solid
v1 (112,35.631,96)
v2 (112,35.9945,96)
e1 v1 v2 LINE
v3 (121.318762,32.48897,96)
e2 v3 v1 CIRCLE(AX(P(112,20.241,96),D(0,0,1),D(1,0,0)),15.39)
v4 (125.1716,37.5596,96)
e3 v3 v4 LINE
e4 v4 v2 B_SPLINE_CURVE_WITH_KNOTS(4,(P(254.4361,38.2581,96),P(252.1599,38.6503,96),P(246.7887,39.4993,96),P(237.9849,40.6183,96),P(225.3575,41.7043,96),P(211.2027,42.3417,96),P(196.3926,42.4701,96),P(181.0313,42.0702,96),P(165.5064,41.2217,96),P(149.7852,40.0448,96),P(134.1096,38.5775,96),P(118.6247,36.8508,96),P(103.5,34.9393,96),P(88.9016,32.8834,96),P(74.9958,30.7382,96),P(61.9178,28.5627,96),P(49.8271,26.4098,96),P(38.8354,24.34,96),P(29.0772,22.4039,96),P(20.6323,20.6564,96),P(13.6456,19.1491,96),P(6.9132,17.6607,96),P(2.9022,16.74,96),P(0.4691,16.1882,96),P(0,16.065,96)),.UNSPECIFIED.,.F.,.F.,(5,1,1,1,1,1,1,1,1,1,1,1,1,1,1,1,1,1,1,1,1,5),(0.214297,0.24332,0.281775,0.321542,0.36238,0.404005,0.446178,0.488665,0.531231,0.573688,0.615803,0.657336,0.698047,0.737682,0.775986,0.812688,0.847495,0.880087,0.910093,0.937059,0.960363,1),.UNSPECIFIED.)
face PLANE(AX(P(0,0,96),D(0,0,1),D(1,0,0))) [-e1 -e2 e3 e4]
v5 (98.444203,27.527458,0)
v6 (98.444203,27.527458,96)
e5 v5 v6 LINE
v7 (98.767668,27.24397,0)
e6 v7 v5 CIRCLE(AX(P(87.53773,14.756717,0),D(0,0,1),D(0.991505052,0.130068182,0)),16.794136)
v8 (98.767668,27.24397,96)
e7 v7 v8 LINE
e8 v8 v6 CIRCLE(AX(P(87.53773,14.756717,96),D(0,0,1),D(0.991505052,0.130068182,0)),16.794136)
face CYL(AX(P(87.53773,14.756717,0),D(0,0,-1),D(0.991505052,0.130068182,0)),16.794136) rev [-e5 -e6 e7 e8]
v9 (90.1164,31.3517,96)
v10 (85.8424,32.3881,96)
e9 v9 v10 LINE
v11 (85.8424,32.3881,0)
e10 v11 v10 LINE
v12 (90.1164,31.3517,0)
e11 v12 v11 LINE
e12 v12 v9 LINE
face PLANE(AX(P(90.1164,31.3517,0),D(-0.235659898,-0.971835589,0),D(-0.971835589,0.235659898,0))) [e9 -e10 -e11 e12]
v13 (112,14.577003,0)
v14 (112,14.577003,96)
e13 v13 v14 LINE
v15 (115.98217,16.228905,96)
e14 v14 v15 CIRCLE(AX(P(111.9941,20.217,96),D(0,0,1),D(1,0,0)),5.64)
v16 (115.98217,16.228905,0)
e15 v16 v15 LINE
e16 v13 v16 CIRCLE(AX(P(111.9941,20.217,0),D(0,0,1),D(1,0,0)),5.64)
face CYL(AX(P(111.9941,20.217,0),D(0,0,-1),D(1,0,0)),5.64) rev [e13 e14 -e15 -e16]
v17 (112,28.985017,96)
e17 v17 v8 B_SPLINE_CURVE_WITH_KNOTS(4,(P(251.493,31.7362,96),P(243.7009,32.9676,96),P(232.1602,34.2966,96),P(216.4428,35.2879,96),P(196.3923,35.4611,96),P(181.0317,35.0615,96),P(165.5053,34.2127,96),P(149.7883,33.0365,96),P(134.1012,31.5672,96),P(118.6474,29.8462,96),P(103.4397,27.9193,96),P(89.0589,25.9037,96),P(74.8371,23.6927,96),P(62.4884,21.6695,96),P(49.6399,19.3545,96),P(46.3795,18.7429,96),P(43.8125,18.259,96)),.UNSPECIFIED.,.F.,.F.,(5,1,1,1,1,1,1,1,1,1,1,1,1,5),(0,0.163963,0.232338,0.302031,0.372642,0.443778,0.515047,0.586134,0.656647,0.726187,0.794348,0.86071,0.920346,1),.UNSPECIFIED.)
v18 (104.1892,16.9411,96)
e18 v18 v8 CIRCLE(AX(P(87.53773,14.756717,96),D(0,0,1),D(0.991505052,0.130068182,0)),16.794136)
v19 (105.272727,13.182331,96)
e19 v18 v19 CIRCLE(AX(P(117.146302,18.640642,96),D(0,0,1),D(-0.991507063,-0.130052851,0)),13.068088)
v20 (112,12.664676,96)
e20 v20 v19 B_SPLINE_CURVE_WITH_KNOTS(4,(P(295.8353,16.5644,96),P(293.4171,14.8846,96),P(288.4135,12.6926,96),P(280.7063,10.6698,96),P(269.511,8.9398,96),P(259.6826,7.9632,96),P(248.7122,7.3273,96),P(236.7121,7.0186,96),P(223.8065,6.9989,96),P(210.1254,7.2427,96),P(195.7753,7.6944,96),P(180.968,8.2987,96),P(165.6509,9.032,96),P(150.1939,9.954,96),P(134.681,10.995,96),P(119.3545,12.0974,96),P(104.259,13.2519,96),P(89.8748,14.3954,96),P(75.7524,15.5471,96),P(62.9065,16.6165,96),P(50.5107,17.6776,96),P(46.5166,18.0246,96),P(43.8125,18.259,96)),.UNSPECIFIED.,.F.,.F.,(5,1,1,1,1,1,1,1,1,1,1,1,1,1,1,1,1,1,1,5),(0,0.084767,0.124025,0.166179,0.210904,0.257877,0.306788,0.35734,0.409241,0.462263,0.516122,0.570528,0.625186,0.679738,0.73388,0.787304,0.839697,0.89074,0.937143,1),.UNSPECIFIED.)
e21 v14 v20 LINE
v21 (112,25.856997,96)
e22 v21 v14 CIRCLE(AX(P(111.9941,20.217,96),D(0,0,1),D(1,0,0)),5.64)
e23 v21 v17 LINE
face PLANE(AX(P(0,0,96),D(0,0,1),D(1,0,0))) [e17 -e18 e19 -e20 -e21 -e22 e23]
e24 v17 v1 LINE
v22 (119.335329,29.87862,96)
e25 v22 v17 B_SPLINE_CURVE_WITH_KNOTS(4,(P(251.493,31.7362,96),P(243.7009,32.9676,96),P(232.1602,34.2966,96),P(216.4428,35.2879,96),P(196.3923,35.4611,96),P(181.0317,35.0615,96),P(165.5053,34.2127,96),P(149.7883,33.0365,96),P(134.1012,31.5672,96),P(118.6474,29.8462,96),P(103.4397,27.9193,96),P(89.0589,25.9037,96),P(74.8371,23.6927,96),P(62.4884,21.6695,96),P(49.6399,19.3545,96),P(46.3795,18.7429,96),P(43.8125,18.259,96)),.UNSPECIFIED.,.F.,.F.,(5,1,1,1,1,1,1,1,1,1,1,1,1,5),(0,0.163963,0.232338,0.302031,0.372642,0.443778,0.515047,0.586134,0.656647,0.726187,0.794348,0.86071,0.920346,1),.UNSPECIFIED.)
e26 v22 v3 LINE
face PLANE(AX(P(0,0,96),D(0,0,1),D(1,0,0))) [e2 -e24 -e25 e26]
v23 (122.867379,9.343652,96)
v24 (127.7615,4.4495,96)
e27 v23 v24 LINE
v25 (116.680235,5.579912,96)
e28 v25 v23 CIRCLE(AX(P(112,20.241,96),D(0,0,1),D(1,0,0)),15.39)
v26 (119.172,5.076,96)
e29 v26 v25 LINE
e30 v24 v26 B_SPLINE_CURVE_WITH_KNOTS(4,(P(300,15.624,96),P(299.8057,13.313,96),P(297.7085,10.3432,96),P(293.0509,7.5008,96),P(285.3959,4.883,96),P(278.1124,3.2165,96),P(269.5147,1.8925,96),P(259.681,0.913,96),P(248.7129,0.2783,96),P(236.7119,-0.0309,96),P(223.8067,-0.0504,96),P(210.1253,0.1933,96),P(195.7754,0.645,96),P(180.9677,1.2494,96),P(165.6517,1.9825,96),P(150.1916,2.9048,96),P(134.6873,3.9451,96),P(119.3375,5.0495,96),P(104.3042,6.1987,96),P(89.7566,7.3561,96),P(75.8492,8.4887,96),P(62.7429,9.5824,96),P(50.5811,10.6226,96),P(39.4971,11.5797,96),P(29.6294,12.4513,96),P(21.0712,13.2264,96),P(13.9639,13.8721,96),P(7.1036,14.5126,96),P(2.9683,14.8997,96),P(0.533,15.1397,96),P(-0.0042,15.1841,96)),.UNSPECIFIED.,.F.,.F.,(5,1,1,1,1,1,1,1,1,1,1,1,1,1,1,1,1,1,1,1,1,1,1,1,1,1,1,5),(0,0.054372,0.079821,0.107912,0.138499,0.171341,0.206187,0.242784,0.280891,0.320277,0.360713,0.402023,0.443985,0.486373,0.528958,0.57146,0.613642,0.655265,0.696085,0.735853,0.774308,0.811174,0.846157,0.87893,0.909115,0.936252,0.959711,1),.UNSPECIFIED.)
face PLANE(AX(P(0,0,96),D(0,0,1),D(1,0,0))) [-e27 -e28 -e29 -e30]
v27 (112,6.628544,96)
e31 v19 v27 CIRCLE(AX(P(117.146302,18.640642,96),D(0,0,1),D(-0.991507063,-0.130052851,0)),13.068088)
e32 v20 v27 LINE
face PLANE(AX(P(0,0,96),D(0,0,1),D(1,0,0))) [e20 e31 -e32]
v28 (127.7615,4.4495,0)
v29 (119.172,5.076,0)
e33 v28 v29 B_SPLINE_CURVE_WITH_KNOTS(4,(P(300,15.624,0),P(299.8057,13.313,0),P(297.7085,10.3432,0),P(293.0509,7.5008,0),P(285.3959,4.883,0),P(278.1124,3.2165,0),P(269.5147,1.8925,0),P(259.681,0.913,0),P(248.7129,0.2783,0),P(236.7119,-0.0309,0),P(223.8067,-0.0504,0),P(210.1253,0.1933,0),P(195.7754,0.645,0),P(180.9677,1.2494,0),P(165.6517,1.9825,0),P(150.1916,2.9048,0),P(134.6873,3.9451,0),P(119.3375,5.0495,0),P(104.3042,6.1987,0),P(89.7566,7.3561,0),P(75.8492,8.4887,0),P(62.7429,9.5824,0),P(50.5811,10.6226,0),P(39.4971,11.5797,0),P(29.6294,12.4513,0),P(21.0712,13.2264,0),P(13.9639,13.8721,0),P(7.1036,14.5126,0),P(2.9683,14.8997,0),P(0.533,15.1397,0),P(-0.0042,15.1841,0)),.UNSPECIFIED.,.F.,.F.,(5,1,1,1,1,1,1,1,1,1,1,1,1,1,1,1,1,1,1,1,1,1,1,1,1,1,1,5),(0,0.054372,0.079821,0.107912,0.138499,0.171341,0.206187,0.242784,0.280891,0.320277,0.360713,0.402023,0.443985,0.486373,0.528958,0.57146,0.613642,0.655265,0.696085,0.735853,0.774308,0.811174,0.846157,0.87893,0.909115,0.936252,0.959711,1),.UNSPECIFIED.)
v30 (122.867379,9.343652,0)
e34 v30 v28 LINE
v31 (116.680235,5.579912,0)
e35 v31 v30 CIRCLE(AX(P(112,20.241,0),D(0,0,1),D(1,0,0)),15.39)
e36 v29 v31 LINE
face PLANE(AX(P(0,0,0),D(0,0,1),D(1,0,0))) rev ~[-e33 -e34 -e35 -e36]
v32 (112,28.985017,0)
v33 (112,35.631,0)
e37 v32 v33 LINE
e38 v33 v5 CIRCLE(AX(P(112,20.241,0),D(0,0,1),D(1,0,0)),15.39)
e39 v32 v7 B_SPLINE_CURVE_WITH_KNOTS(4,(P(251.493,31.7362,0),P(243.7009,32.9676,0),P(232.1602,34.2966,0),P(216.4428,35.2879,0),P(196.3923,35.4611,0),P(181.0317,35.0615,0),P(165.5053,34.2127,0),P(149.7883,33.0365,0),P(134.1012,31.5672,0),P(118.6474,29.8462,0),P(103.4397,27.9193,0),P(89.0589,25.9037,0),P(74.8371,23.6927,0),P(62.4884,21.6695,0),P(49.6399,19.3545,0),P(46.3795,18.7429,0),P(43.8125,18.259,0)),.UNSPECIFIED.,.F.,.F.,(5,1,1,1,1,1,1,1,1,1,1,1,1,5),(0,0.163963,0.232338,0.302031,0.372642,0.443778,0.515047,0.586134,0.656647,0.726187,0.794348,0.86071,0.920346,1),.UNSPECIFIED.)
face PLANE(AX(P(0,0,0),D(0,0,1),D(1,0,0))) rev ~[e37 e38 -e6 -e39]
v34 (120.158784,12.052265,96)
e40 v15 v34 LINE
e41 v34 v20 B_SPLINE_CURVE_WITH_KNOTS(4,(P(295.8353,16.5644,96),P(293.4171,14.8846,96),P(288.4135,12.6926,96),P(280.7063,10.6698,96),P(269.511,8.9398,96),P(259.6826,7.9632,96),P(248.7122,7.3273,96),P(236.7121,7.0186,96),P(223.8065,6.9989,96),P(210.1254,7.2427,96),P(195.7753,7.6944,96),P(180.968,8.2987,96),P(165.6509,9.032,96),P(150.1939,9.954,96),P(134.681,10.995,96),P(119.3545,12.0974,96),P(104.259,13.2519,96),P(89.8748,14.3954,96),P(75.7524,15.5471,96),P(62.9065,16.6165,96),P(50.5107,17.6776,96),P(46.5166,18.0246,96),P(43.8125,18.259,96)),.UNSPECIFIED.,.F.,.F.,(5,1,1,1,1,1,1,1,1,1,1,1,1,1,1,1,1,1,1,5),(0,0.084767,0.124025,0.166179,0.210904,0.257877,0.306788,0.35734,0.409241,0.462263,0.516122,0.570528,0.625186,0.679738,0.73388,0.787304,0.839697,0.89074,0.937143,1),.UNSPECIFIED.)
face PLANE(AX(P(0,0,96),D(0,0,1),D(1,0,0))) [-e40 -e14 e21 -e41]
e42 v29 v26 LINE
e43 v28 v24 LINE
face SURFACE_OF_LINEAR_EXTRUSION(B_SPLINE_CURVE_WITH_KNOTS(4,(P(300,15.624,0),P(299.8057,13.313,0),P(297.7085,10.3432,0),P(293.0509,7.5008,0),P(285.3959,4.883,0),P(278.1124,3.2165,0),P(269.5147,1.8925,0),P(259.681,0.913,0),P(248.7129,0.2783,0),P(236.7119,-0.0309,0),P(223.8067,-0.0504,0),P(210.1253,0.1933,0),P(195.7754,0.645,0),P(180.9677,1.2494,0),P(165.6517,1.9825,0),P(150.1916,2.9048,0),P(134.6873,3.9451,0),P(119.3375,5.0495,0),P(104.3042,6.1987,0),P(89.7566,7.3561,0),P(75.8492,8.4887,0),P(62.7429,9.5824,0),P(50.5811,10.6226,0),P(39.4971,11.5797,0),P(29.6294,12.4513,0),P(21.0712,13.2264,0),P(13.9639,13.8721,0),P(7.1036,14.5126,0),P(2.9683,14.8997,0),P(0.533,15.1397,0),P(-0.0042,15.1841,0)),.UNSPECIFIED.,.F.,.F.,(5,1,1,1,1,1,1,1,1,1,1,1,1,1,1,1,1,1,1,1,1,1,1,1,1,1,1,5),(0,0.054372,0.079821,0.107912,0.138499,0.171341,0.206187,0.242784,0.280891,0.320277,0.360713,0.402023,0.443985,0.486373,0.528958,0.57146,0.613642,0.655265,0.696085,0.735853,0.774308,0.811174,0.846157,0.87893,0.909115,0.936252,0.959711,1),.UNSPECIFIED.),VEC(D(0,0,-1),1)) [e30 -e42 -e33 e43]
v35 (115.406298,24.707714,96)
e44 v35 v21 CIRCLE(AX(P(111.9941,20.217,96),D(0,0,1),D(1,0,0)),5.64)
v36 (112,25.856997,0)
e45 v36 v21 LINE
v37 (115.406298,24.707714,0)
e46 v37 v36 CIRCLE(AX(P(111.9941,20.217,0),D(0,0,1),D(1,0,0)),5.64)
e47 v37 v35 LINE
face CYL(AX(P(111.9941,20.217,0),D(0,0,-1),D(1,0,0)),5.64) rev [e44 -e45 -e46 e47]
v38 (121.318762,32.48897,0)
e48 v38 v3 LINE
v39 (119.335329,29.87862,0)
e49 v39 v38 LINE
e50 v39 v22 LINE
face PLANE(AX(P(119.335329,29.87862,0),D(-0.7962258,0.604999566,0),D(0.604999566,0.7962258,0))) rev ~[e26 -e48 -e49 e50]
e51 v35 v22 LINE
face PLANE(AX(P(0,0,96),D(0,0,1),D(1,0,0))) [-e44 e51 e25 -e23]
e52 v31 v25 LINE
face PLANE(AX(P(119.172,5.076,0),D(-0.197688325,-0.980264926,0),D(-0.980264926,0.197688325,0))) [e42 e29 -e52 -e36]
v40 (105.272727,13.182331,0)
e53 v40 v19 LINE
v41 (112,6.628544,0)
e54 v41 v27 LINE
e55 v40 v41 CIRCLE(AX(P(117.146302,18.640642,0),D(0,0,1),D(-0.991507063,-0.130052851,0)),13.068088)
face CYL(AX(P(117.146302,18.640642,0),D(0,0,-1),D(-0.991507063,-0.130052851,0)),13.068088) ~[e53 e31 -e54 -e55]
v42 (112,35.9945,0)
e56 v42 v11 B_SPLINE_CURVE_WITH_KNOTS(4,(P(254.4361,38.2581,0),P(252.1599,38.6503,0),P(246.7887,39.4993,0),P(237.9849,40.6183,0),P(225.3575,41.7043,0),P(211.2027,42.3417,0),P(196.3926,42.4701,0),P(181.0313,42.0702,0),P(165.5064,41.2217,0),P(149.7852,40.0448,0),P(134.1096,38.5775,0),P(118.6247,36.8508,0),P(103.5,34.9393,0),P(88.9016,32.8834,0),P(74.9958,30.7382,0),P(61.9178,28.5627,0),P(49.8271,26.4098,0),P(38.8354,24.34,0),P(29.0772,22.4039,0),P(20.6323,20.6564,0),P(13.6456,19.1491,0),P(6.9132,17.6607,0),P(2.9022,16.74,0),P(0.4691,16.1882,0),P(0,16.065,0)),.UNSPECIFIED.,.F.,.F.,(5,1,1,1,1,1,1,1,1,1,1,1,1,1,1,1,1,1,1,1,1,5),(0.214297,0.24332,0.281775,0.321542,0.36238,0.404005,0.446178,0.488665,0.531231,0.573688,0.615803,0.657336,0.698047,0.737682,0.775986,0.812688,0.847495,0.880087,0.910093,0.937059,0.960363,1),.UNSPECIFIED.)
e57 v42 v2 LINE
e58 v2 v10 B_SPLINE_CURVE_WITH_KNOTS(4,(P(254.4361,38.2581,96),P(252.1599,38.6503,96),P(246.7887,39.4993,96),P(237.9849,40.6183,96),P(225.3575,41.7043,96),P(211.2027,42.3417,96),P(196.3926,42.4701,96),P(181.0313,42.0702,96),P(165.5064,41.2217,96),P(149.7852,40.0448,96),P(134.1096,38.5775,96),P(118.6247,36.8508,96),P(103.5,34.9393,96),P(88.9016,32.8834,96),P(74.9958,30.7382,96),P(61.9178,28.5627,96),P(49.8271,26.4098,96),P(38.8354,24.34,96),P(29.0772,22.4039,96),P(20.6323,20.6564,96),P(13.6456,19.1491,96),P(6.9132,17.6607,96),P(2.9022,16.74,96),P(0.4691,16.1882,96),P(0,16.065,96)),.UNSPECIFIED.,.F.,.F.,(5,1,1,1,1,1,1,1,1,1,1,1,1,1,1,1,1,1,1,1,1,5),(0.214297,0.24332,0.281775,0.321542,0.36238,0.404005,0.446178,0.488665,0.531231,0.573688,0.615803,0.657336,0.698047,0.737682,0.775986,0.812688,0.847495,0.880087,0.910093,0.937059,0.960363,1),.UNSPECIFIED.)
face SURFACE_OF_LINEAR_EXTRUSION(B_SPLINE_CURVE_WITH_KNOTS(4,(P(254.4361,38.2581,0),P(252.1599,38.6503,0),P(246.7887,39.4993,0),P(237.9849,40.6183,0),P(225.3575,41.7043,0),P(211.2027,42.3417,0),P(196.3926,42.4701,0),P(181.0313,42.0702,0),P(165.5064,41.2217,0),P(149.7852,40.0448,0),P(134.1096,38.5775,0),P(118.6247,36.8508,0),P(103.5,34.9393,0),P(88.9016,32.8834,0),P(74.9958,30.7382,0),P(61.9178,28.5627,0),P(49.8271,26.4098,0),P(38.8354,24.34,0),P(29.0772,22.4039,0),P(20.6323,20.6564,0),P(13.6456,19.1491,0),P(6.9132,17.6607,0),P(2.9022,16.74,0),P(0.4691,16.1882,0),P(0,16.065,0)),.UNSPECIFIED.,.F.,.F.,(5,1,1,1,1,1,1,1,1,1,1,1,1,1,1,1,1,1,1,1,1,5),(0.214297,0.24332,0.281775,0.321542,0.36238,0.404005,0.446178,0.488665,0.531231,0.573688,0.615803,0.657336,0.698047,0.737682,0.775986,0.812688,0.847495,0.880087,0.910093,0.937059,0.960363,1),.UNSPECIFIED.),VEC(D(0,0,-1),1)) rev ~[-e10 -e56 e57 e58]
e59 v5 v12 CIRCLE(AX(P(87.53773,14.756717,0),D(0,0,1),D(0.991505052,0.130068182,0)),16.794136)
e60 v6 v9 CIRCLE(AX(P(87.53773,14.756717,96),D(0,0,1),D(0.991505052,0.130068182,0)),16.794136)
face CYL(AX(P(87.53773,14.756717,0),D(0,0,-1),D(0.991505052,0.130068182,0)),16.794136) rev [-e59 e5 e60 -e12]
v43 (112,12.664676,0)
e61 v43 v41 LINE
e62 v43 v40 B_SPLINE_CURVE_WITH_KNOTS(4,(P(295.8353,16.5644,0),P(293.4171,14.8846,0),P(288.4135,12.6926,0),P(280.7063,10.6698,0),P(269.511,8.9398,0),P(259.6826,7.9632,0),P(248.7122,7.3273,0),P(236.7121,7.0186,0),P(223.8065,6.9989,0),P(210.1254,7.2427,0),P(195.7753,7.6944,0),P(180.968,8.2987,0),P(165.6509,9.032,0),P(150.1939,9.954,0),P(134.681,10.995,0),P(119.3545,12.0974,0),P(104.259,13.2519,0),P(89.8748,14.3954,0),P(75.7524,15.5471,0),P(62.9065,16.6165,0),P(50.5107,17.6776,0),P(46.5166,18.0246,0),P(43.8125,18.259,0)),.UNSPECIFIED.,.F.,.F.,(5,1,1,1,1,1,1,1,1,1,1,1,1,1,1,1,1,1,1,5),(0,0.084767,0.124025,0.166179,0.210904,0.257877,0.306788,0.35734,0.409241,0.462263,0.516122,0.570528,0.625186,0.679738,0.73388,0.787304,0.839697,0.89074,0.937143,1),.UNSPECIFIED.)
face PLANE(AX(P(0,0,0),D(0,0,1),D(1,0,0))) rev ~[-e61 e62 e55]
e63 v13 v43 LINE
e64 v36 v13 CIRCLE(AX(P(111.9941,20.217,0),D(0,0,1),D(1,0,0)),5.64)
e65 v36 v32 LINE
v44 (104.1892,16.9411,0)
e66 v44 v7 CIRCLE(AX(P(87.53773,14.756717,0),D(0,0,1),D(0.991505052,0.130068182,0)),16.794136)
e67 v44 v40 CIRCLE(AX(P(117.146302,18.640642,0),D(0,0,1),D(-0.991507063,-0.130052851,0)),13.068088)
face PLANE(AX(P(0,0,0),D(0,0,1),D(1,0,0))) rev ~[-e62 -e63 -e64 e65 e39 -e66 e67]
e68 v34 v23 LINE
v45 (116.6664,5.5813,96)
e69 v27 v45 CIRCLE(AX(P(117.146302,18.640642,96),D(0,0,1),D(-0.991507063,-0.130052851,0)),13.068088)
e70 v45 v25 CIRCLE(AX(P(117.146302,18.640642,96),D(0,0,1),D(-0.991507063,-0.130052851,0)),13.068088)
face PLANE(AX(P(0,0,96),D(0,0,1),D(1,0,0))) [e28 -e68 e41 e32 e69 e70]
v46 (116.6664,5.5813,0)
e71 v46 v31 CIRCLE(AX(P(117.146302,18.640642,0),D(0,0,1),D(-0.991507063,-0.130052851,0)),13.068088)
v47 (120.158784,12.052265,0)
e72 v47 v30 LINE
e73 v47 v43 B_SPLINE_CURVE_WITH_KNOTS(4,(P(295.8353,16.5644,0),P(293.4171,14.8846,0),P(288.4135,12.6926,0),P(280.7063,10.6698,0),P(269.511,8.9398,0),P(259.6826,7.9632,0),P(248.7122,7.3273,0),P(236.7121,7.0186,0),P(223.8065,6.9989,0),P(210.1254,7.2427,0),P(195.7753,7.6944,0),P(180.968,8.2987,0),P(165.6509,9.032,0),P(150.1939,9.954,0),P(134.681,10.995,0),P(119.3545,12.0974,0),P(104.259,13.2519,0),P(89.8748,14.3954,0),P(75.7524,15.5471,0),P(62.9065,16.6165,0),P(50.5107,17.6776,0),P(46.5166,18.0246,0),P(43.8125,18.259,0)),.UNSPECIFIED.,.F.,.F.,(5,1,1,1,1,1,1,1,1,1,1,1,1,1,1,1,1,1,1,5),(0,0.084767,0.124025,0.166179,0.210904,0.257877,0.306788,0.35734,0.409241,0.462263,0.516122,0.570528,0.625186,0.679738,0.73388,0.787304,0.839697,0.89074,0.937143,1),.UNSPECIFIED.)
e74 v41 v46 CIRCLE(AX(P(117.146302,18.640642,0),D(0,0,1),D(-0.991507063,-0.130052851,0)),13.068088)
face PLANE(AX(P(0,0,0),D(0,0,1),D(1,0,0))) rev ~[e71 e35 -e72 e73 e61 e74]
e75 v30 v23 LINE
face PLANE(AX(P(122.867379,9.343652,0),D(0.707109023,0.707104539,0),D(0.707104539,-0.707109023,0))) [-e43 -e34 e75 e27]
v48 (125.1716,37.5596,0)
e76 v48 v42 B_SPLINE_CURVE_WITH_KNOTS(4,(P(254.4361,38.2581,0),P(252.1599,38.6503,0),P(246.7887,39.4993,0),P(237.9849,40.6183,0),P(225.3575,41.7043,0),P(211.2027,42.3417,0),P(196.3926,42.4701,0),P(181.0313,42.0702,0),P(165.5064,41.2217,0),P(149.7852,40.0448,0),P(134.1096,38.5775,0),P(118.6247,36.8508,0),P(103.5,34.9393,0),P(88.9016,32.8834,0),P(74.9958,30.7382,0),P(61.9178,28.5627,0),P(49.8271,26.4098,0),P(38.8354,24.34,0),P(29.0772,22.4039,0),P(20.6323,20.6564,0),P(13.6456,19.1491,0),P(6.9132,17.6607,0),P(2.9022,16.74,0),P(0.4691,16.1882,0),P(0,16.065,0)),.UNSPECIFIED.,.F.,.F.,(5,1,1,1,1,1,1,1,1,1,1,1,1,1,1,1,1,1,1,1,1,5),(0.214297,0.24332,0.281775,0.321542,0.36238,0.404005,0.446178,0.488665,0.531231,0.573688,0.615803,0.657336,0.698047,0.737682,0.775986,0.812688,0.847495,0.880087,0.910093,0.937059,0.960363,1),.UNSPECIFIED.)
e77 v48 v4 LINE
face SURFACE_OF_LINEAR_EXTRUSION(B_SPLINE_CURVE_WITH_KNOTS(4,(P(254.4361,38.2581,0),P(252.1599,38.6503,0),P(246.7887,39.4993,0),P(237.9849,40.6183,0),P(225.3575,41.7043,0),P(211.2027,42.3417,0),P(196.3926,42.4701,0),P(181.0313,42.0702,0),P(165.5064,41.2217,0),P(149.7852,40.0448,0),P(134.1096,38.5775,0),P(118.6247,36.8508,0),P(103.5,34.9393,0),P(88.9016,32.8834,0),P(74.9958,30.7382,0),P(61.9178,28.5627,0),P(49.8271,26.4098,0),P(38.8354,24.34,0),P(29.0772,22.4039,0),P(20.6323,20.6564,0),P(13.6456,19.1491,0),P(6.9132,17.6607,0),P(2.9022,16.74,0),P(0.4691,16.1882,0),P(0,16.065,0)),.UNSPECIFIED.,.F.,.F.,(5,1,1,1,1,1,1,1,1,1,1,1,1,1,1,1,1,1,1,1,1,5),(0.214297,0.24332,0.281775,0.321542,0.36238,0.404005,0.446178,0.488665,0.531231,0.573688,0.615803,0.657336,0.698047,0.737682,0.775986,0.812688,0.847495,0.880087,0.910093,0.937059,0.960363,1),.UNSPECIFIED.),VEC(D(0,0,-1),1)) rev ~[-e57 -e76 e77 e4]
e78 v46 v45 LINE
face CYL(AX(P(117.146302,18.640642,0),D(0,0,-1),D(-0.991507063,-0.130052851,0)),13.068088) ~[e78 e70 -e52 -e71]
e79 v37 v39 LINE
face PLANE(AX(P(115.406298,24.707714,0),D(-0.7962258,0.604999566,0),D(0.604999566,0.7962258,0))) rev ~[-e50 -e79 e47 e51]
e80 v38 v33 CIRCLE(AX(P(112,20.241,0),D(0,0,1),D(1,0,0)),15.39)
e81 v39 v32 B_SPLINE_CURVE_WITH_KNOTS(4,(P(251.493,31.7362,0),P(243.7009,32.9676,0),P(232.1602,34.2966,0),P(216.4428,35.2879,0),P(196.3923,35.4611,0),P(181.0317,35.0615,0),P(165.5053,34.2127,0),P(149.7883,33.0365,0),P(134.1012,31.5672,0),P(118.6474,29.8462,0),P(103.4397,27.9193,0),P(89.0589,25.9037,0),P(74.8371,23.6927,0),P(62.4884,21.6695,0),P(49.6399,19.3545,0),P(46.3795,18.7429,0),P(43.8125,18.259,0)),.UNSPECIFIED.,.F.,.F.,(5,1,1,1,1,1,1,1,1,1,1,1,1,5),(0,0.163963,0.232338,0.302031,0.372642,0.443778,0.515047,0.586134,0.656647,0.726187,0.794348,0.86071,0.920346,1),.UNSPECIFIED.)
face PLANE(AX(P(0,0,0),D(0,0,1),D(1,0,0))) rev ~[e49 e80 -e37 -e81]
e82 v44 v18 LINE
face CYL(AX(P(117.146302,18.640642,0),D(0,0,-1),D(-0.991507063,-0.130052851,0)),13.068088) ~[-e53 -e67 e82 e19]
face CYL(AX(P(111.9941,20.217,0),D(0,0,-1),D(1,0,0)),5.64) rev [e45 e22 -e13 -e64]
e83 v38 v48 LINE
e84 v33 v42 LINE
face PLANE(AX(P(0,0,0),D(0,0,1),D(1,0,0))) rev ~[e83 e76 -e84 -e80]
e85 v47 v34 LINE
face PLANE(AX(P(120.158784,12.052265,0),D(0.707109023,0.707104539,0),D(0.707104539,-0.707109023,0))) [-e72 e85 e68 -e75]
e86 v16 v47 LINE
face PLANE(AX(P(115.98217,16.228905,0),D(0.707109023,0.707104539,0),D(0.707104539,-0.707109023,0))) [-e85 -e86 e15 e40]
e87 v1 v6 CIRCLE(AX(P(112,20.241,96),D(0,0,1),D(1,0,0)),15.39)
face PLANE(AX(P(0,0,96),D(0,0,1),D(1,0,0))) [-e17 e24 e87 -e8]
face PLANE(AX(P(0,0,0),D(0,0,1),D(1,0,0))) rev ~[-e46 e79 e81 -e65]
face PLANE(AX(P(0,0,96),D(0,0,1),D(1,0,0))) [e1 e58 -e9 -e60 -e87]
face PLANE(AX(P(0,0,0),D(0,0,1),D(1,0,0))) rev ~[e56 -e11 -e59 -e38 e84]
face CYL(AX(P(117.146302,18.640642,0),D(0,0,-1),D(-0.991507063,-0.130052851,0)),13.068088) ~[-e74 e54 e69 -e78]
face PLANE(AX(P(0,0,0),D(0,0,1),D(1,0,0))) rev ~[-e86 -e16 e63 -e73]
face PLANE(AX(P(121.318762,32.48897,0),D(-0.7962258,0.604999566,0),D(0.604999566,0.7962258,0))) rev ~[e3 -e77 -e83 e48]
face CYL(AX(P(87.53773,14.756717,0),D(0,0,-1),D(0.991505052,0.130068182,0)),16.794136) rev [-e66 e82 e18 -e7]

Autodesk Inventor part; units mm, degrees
ref_plane "YZ Plane" through (0, 0, 0) normal (1, 0, 0) x (0, 1, 0)
ref_plane "XZ Plane" through (0, 0, 0) normal (0, 1, 0) x (-1, 0, 0)
ref_plane "XY Plane" through (0, 0, 0) normal (0, 0, 1) x (1, 0, 0)
sketch "Sketch1" plane through (0, 0, 0) normal (0, 0, 1) x (1, 0, 0)
  spline S0 degree 4 poles (254.4361, 38.2581) (252.1599, 38.6503) (246.7887, 39.4993) (237.9849, 40.6183) (225.3575, 41.7043) (211.2027, 42.3417) (196.3926, 42.4701) (181.0313, 42.0702) (165.5064, 41.2217) (149.7852, 40.0448) (134.1096, 38.5775) (118.6247, 36.8508) (103.5, 34.9393) (88.9016, 32.8834) (74.9958, 30.7382) (61.9178, 28.5627) (49.8271, 26.4098) (38.8354, 24.34) (29.0772, 22.4039) (20.6323, 20.6564) (13.6456, 19.1491) (6.9132, 17.6607) (2.9022, 16.74) (0.4691, 16.1882) (0, 16.065) knots 0.214297 0.214297 0.214297 0.214297 0.214297 0.24332 0.281775 0.321542 0.36238 0.404005 0.446178 0.488665 0.531231 0.573688 0.615803 0.657336 0.698047 0.737682 0.775986 0.812688 0.847495 0.880087 0.910093 0.937059 0.960363 1 1 1 1 1
  spline S1 degree 4 poles (300, 15.624) (299.8057, 13.313) (297.7085, 10.3432) (293.0509, 7.5008) (285.3959, 4.883) (278.1124, 3.2165) (269.5147, 1.8925) (259.681, 0.913) (248.7129, 0.2783) (236.7119, -0.0309) (223.8067, -0.0504) (210.1253, 0.1933) (195.7754, 0.645) (180.9677, 1.2494) (165.6517, 1.9825) (150.1916, 2.9048) (134.6873, 3.9451) (119.3375, 5.0495) (104.3042, 6.1987) (89.7566, 7.3561) (75.8492, 8.4887) (62.7429, 9.5824) (50.5811, 10.6226) (39.4971, 11.5797) (29.6294, 12.4513) (21.0712, 13.2264) (13.9639, 13.8721) (7.1036, 14.5126) (2.9683, 14.8997) (0.533, 15.1397) (-0.0042, 15.1841) knots 0 0 0 0 0 0.054372 0.079821 0.107912 0.138499 0.171341 0.206187 0.242784 0.280891 0.320277 0.360713 0.402023 0.443985 0.486373 0.528958 0.57146 0.613642 0.655265 0.696085 0.735853 0.774308 0.811174 0.846157 0.87893 0.909115 0.936252 0.959711 1 1 1 1 1
  arc A0 (0, 16.065) -> (-0.0042, 15.1841) centre (0.1158, 15.624) ccw
  line L0 (0.1158, 15.624) -> (227.9902, 15.624) construction
  line L1 (300, 15.624) -> (0.1158, 15.624) construction
  line L2 (300, 15.624) -> (200, 15.624) construction
  line L3 (200, 15.624) -> (200, 42.3773) construction
  line L4 (200, 15.624) -> (200, 0.5273)
  line L5 (0, 0) -> (0, 20.241)
  line L6 (0, 20.241) -> (238.581, 20.241) construction
  circle A1 centre (238.581, 20.241) radius 14
  line L7 (238.581, 20.241) -> (208.581, 20.241)
  line L8 (238.581, 25.359) -> (238.581, 20.241)
  line L9 (0, 20.241) -> (112, 20.241) construction
  circle A2 centre (112, 20.241) radius 5.39
  line L10 (0, 15.624) -> (112, 15.624) construction
  line L11 (0, 15.624) -> (112, 15.624) construction
  line L12 (112, 15.624) -> (112, 35.9945)
  line L13 (112, 15.624) -> (112, 5.6153)
  spline S2 degree 4 poles (299.2852, 20.241) (299.2279, 20.1316) (299.168, 20.0232) (299.1056, 19.9158) (299.0406, 19.8092) knots 0.014818 0.014818 0.014818 0.014818 0.014818 0.017711 0.017711 0.017711 0.017711 0.017711
  line L14 (299.2071, 20.0822) -> (298.8742, 19.5363) construction
  arc A3 (298.904, 19.5932) -> (299.1702, 20.0296) centre (292.2911, 23.9254) ccw construction
  line L15 (299.432, 20.5214) -> (299.1384, 19.9606) construction
  arc A4 (299.1639, 20.0188) -> (299.3987, 20.4672) centre (292.801, 23.6361) ccw construction
  spline S3 degree 2 poles (295.8506, 16.56) (295.1573, 16.0692) (294.3933, 15.624) knots 0 0 0 1 1 1
  line L16 (294.5507, 15.7157) -> (294.2359, 15.5323) construction
  arc A5 (294.2672, 15.5511) -> (294.519, 15.6978) centre (283.8844, 33.657) ccw construction
  spline S4 degree 4 poles (296.8569, 15.624) (296.6183, 15.8629) (296.3707, 16.0985) (296.1147, 16.3309) (295.8506, 16.56) knots 0.044099 0.044099 0.044099 0.044099 0.044099 0.050856 0.050856 0.050856 0.050856 0.050856
  spline S5 degree 4 poles (219.5872, 34.9119) (218.6954, 34.952) (214.8585, 35.1063) (210.7072, 35.3295) (192.898, 35.4464) (181.4278, 35.0555) (165.1774, 34.1819) (149.5619, 33.1267) (133.8284, 31.3479) (128.2654, 31.0974) (123.3908, 30.59) knots 0 0 0 0 0 0.139244 0.23322 0.363937 0.509983 0.657115 0.798105 1 1 1 1 1
  line L17 (295.9593, 16.4657) -> (295.7419, 16.6543) construction
  arc A6 (295.9374, 16.4843) -> (295.7635, 16.6352) centre (281.8729, 0.4516) ccw construction
  line L18 (232.7438, 34.3645) -> (201.1936, 35.6815) construction
  arc A7 (229.5868, 34.4549) -> (204.3471, 35.5085) centre (136.3483, -1896.3245) ccw construction
  arc A8 (264.2661, 15.123) -> (264.3608, 15.624) centre (238.581, 20.241) ccw
  circle A9 centre (238.581, 20.241) radius 24
  circle A10 centre (112, 20.241) radius 15.39
  spline S6 degree 4 poles (300, 15.624) (300.2691, 17.9337) (298.7834, 21.2677) (294.6934, 24.9798) (287.5317, 28.9406) (280.4869, 31.8205) (271.481, 34.7182) (262.4868, 36.793) (257.7004, 37.6957) (254.4361, 38.2581) knots 0 0 0 0 0 0.247555 0.363857 0.49255 0.632996 0.778264 1 1 1 1 1
  line L19 (285.2945, 32.941) -> (223.5776, 43.5753) construction
  arc A11 (278.7224, 32.6349) -> (229.6682, 41.0872) centre (217.2184, -177.7386) ccw construction
  line L20 (285.2945, 32.941) -> (223.5776, 43.5753) construction
  arc A12 (278.8771, 33.0418) -> (229.6586, 41.5224) centre (200.8949, -272.4733) ccw construction
  spline S7 degree 4 poles (251.493, 31.7362) (243.7009, 32.9676) (232.1602, 34.2966) (216.4428, 35.2879) (196.3923, 35.4611) (181.0317, 35.0615) (165.5053, 34.2127) (149.7883, 33.0365) (134.1012, 31.5672) (118.6474, 29.8462) (103.4397, 27.9193) (89.0589, 25.9037) (74.8371, 23.6927) (62.4884, 21.6695) (49.6399, 19.3545) (46.3795, 18.7429) (43.8125, 18.259) knots 0 0 0 0 0 0.163963 0.232338 0.302031 0.372642 0.443778 0.515047 0.586134 0.656647 0.726187 0.794348 0.86071 0.920346 1 1 1 1 1
  spline S8 degree 4 poles (295.845, 16.556) (295.7198, 16.6646) (294.585, 17.6283) (292.0585, 19.4283) (287.5167, 21.9347) (280.467, 24.8321) (271.9714, 27.5226) (264.2087, 29.4004) (258.4092, 30.5515) (255.0536, 31.1429) (254.4361, 31.2493) (253.9689, 31.3298) (253.5018, 31.4103) (253.0347, 31.4908) (252.5676, 31.5712) knots 0.050892 0.050892 0.050892 0.050892 0.050892 0.054094 0.079507 0.107628 0.138317 0.171335 0.206423 0.214297 0.214297 0.214297 0.214297 0.220253 0.220253 0.220253 0.220253 0.220253
  line L21 (285.2945, 25.9322) -> (223.5776, 36.5664) construction
  line L22 (285.2945, 25.9322) -> (223.5776, 36.5664) construction
  arc A13 (278.7224, 25.626) -> (229.6682, 34.0784) centre (217.2184, -184.7474) ccw construction
  line L23 (270.129, 9.1254) -> (275.129, 9.1254) construction
  line L24 (281.07, 24.4582) -> (286.07, 24.4582) construction
  line L25 (318.8214, -3.3673) -> (272.8686, 36.4793) construction
  arc A14 (303.2079, 0.552) -> (278.9595, 21.5782) centre (281.8576, 0.4252) ccw construction
  spline S9 degree 4 poles (295.8353, 16.5644) (293.4171, 14.8846) (288.4135, 12.6926) (280.7063, 10.6698) (269.511, 8.9398) (259.6826, 7.9632) (248.7122, 7.3273) (236.7121, 7.0186) (223.8065, 6.9989) (210.1254, 7.2427) (195.7753, 7.6944) (180.968, 8.2987) (165.6509, 9.032) (150.1939, 9.954) (134.681, 10.995) (119.3545, 12.0974) (104.259, 13.2519) (89.8748, 14.3954) (75.7524, 15.5471) (62.9065, 16.6165) (50.5107, 17.6776) (46.5166, 18.0246) (43.8125, 18.259) knots 0 0 0 0 0 0.084767 0.124025 0.166179 0.210904 0.257877 0.306788 0.35734 0.409241 0.462263 0.516122 0.570528 0.625186 0.679738 0.73388 0.787304 0.839697 0.89074 0.937143 1 1 1 1 1
  spline S10 degree 4 poles (21.4623, 20.241) (20.6227, 20.317) (20.124, 20.3622) (19.9191, 20.3809) (19.554, 20.414) knots 0.979732 0.979732 0.979732 0.979732 0.979732 1 1 1 1 1 construction
  line L26 (68.4884, 16.1198) -> (19.1367, 20.3983) construction
  arc A15 (63.5515, 16.5281) -> (24.0702, 19.9509) centre (-819.8994, -9944.3712) ccw construction
  line L27 (21.7244, 20.2173) -> (21.2001, 20.2647) construction
  arc A16 (21.2525, 20.26) -> (21.672, 20.222) centre (898.6358, 9712.9556) ccw construction
  line L28 (74.2541, 23.9969) -> (13.371, 12.5211) construction
  arc A17 (68.1759, 22.7939) -> (19.47, 13.6134) centre (1053.3901, -5337.891) ccw construction
  spline S11 degree 4 poles (218.4375, 7.1934) (217.6173, 7.2408) (213.8192, 7.4688) (209.5863, 6.8507) (192.5485, 7.9441) (181.1469, 8.163) (165.7461, 9.0283) (149.1424, 9.8801) (139.9777, 10.7519) (129.1073, 11.2464) (124.6867, 11.5289) knots 0 0 0 0 0 0.127631 0.213723 0.333628 0.467446 0.602621 0.738424 0.880395 0.880395 0.880395 0.880395 0.880395
  line L29 (133.5337, 10.9635) -> (115.8396, 12.0942) construction
  arc A18 (117.618, 12.0789) -> (131.7678, 11.1747) centre (141.027, 267.2384) ccw construction
  line L30 (140.665, 32.3881) -> (106.1166, 28.792) construction
  arc A19 (137.222, 31.4497) -> (109.679, 28.5828) centre (140.6225, -134.9596) ccw construction
  circle A20 centre (238.581, 20.241) radius 18
  line L31 (238.581, 38.241) -> (225.78, 41.559)
  line L32 (238.581, 2.241) -> (224.22, 0)
  line L33 (214.581, 20.241) -> (214.581, 42.1266) construction
  line L34 (127.39, 20.241) -> (127.39, 11.5255) construction
  line L35 (127.39, 20.241) -> (131.3139, 20.241) construction
  line L36 (96.61, 20.241) -> (96.61, 13.8631) construction
  line L37 (270.129, 5.6153) -> (270.129, 15.624) construction
  line L38 (272.129, 7.6153) -> (272.129, 13.624)
  line L39 (268.129, 13.624) -> (268.129, 7.6153)
  arc A21 (268.129, 7.6153) -> (272.129, 7.6153) centre (270.129, 7.6153) ccw
  arc A22 (272.129, 13.624) -> (268.129, 13.624) centre (270.129, 13.624) ccw
  line L40 (270.129, 32.1807) -> (270.129, 22.172) construction
  line L41 (272.129, 30.1807) -> (272.129, 24.172)
  line L42 (268.129, 24.172) -> (268.129, 30.1807)
  arc A23 (272.129, 30.1807) -> (268.129, 30.1807) centre (270.129, 30.1807) ccw
  arc A24 (268.129, 24.172) -> (272.129, 24.172) centre (270.129, 24.172) ccw
  arc A25 (200, 42.3155) -> (199.8539, 42.3773) centre (190.581, 20.241) ccw
  arc A26 (171.273, 34.4958) -> (171.2681, 34.4892) centre (190.581, 20.241) ccw
  arc A27 (210.7484, 7.2304) -> (209.2875, 35.2765) centre (190.581, 20.241) ccw
  arc A28 (169.4455, 8.8703) -> (169.4744, 8.8168) centre (190.581, 20.241) ccw
  arc A29 (153.9768, 9.6824) -> (154.0303, 9.7394) centre (142.78, 20.241) ccw
  arc A30 (151.2419, 33.0959) -> (151.2193, 33.1107) centre (142.78, 20.241) ccw
  arc A31 (132.1299, 31.3508) -> (130.3229, 11.2037) centre (142.78, 20.241) ccw
  arc A32 (95.2741, 13.9693) -> (95.1698, 26.7415) centre (81.22, 20.241) ccw
  arc A33 (66.334, 16.3348) -> (66.5389, 15.624) centre (81.22, 20.241) ccw
  line L43 (112, 20.241) -> (112, 14.851) construction
  line L44 (112, 14.851) -> (91.265, 14.851) construction
  circle A34 centre (91.265, 14.851) radius 4
  circle A35 centre (111.9941, 20.217) radius 5.39
  arc A36 (104.1892, 16.9411) -> (90.1164, 31.3517) centre (87.5379, 14.7568) ccw
  arc A37 (104.1892, 16.9411) -> (116.9519, 5.574) centre (117.1466, 18.6408) ccw
  line L45 (90.1164, 31.3517) -> (85.8424, 32.3881)
  line L46 (119.172, 5.076) -> (116.6664, 5.5813)
  circle A38 centre (238.581, 20.241) radius 13.69
  circle A39 centre (111.9941, 20.217) radius 5.64
  line L47 (111.9941, 20.217) -> (125.1716, 37.5596)
  line L48 (111.9941, 20.217) -> (127.7615, 4.4495)
  line L49 (111.9941, 20.217) -> (119.9703, 20.217) construction
  point P0 (0.783, 16.254)
  point P1 (3.213, 16.812)
  point P2 (7.239, 17.724)
  point P3 (12.813, 18.96)
  point P4 (19.884, 20.484)
  point P5 (28.374, 22.245)
  point P6 (38.199, 24.195)
  point P7 (49.254, 26.28)
  point P8 (61.419, 28.446)
  point P9 (74.571, 30.636)
  point P10 (88.56, 32.793)
  point P11 (103.242, 34.86)
  point P12 (118.455, 36.783)
  point P13 (134.028, 38.511)
  point P14 (149.793, 39.984)
  point P15 (165.576, 41.16)
  point P16 (181.206, 41.985)
  point P17 (196.638, 42.363)
  point P18 (211.554, 42.222)
  point P19 (239.145, 40.389)
  point P20 (262.68, 36.666)
  point P21 (272.577, 34.218)
  point P22 (281.07, 31.467)
  point P23 (288.069, 28.491)
  point P24 (293.505, 25.359)
  point P25 (297.324, 22.137)
  point P26 (300, 15.624)
  point P27 (0.861, 15.105)
  point P28 (3.342, 14.868)
  point P29 (7.446, 14.481)
  point P30 (13.122, 13.953)
  point P31 (20.31, 13.296)
  point P32 (28.92, 12.519)
  point P33 (38.856, 11.64)
  point P34 (50.007, 10.674)
  point P35 (62.244, 9.63)
  point P36 (75.429, 8.529)
  point P37 (89.418, 7.389)
  point P38 (104.052, 6.228)
  point P39 (134.613, 3.966)
  point P40 (150.207, 2.928)
  point P41 (165.783, 2.013)
  point P42 (181.167, 1.263)
  point P43 (196.068, 0.663)
  point P44 (210.468, 0.225)
  point P45 (237.189, 0.039)
  point P46 (249.246, 0.378)
  point P47 (260.262, 1.05)
  point P48 (270.129, 2.076)
  point P49 (278.739, 3.462)
  point P50 (285.993, 5.211)
  point P51 (291.81, 7.314)
  point P52 (296.121, 9.756)
  point P53 (298.863, 12.531)
  point P54 (200, 15.624)
  point P55 (225.3642, 15.624)
  point P56 (238.581, 6.241)
  point P57 (238.581, 34.241)
  point P58 (225.3642, 15.624)
  point P59 (251.7978, 15.624)
  point P60 (0, 16.065)
  point P61 (0, 15.1838)
  point P62 (224.581, 20.241)
  point P63 (112, 25.631)
  point P64 (0, 9.065)
  point P65 (0.783, 9.254)
  point P66 (3.213, 9.812)
  point P67 (7.239, 10.724)
  point P68 (12.813, 11.96)
  point P69 (19.884, 13.484)
  point P70 (28.374, 15.245)
  point P71 (38.199, 17.195)
  point P72 (49.254, 19.28)
  point P73 (61.419, 21.446)
  point P74 (74.571, 23.636)
  point P75 (88.56, 25.793)
  point P76 (103.242, 27.86)
  point P77 (118.455, 29.783)
  point P78 (134.028, 31.511)
  point P79 (149.793, 32.984)
  point P80 (165.576, 34.16)
  point P81 (181.206, 34.985)
  point P82 (225.78, 34.559)
  point P83 (239.145, 33.389)
  point P84 (251.493, 31.745)
  point P85 (262.68, 29.666)
  point P86 (272.577, 27.218)
  point P87 (281.07, 24.467)
  point P88 (288.069, 21.491)
  point P89 (293.505, 18.359)
  point P90 (297.324, 15.137)
  point P91 (299.493, 11.879)
  point P92 (300, 8.624)
  point P93 (-0.0042, 22.1841)
  point P94 (0.861, 22.105)
  point P95 (3.342, 21.868)
  point P96 (7.446, 21.481)
  point P97 (13.122, 20.953)
  point P98 (20.31, 20.296)
  point P99 (28.92, 19.519)
  point P100 (38.856, 18.64)
  point P101 (50.007, 17.674)
  point P102 (62.244, 16.63)
  point P103 (75.429, 15.529)
  point P104 (89.418, 14.389)
  point P105 (104.052, 13.228)
  point P106 (119.172, 12.076)
  point P107 (134.613, 10.966)
  point P108 (150.207, 9.928)
  point P109 (165.783, 9.013)
  point P110 (181.167, 8.263)
  point P111 (196.068, 7.663)
  point P112 (210.468, 7.225)
  point P113 (224.22, 7)
  point P114 (237.189, 7.039)
  point P115 (249.246, 7.378)
  point P116 (260.262, 8.05)
  point P117 (270.129, 9.076)
  point P118 (278.739, 10.462)
  point P119 (285.993, 12.211)
  point P120 (291.81, 14.314)
  point P121 (296.121, 16.756)
  point P122 (298.863, 19.531)
  point P123 (300, 22.624)
  point P124 (18.7405, 20.241)
  point P125 (216.9687, 35.023)
  point P126 (0, 16.065)
  point P127 (296.8569, 15.624)
  point P128 (294.3933, 15.624)
  point P129 (219.5872, 34.9119)
  point P130 (123.3908, 30.59)
  point P131 (254.4361, 38.2581)
  point P132 (0, 9.0562)
  point P133 (0.783, 9.2452)
  point P134 (3.213, 9.8032)
  point P135 (7.239, 10.7152)
  point P136 (12.813, 11.9512)
  point P137 (19.884, 13.4752)
  point P138 (28.374, 15.2362)
  point P139 (38.199, 17.1862)
  point P140 (49.254, 19.2712)
  point P141 (61.419, 21.4372)
  point P142 (74.571, 23.6272)
  point P143 (88.56, 25.7842)
  point P144 (103.242, 27.8512)
  point P145 (118.455, 29.7742)
  point P146 (134.028, 31.5022)
  point P147 (149.793, 32.9752)
  point P148 (165.576, 34.1512)
  point P149 (181.206, 34.9762)
  point P150 (196.638, 35.3542)
  point P151 (211.554, 35.2132)
  point P152 (225.78, 34.5502)
  point P153 (262.68, 29.6572)
  point P154 (272.577, 27.2092)
  point P155 (297.324, 15.1282)
  point P156 (299.493, 11.8702)
  point P157 (300, 8.6152)
  point P158 (254.4361, 31.2493)
  point P159 (216.8848, -206.3625)
  point P160 (278.8769, 26.0734)
  point P161 (229.5906, 33.8662)
  point P162 (-0.0042, 22.2335)
  point P163 (0.861, 22.1544)
  point P164 (3.342, 21.9174)
  point P165 (7.446, 21.5304)
  point P166 (13.122, 21.0024)
  point P167 (28.92, 19.5684)
  point P168 (38.856, 18.6894)
  point P169 (50.007, 17.7234)
  point P170 (62.244, 16.6794)
  point P171 (75.429, 15.5784)
  point P172 (89.418, 14.4384)
  point P173 (104.052, 13.2774)
  point P174 (119.172, 12.1254)
  point P175 (134.613, 11.0154)
  point P176 (150.207, 9.9774)
  point P177 (165.783, 9.0624)
  point P178 (181.167, 8.3124)
  point P179 (196.068, 7.7124)
  point P180 (210.468, 7.2744)
  point P181 (224.22, 7.0494)
  point P182 (237.189, 7.0884)
  point P183 (249.246, 7.4274)
  point P184 (260.262, 8.0994)
  point P185 (278.739, 10.5114)
  point P186 (285.993, 12.2604)
  point P187 (296.121, 16.8054)
  point P188 (298.863, 19.5804)
  point P189 (300, 22.6734)
  point P190 (225.7, -0.0094)
  point P191 (252.2617, 0.522)
  point P192 (227.3495, 41.4508)
  point P193 (105.9778, 6.0782)
  point P194 (115.8008, 5.3277)
  point P195 (98.26, 27.1738)
  point P196 (260.4522, 30.1228)
  point P197 (123.5853, 30.3718)
  point P198 (134.5979, 31.5604)
  point P199 (134.4982, 31.5502)
  dimension "d38" = 10.78
  dimension "d17" = 100
  dimension "d19" = 20.241
  dimension "d20" = 238.581
  dimension "d21" = 28
  dimension "d37" = 112
  dimension "d39" = 112
  dimension "d40" = 0
  dimension "d43" = 10
  dimension "d44" = 10
  dimension "d55" = 4
  dimension "d56" = 90
  dimension "d58" = 4
  dimension "d59" = 20.735
  dimension "d60" = 8
  dimension "d61" = 16.794
  dimension "d62" = 24.4562
  dimension "d63" = 5.4601
  dimension "d64" = 13.0683
  dimension "d65" = 16.5949
  dimension "d66" = 2.5785
  dimension "d68" = 27.38
  dimension "d69" = 11.28
  dimension "d70" = 45
extrude "Extrusion3" add sketch "Sketch1" along normal blind 96 contours L47 A10 L12 S0 | L12 A10 A36 L45 S0 | L47 S7 L12 A10 | L12 S7 A36 A10 | L47 A39 L12 S7 | L12 A39 L13 S9 A37 A36 S7 | A39 L48 S9 L13 | S9 L48 A10 A37 L13 | L13 A37 S9 | L46 A10 L48 S1
properties part number "Flap Foam"
